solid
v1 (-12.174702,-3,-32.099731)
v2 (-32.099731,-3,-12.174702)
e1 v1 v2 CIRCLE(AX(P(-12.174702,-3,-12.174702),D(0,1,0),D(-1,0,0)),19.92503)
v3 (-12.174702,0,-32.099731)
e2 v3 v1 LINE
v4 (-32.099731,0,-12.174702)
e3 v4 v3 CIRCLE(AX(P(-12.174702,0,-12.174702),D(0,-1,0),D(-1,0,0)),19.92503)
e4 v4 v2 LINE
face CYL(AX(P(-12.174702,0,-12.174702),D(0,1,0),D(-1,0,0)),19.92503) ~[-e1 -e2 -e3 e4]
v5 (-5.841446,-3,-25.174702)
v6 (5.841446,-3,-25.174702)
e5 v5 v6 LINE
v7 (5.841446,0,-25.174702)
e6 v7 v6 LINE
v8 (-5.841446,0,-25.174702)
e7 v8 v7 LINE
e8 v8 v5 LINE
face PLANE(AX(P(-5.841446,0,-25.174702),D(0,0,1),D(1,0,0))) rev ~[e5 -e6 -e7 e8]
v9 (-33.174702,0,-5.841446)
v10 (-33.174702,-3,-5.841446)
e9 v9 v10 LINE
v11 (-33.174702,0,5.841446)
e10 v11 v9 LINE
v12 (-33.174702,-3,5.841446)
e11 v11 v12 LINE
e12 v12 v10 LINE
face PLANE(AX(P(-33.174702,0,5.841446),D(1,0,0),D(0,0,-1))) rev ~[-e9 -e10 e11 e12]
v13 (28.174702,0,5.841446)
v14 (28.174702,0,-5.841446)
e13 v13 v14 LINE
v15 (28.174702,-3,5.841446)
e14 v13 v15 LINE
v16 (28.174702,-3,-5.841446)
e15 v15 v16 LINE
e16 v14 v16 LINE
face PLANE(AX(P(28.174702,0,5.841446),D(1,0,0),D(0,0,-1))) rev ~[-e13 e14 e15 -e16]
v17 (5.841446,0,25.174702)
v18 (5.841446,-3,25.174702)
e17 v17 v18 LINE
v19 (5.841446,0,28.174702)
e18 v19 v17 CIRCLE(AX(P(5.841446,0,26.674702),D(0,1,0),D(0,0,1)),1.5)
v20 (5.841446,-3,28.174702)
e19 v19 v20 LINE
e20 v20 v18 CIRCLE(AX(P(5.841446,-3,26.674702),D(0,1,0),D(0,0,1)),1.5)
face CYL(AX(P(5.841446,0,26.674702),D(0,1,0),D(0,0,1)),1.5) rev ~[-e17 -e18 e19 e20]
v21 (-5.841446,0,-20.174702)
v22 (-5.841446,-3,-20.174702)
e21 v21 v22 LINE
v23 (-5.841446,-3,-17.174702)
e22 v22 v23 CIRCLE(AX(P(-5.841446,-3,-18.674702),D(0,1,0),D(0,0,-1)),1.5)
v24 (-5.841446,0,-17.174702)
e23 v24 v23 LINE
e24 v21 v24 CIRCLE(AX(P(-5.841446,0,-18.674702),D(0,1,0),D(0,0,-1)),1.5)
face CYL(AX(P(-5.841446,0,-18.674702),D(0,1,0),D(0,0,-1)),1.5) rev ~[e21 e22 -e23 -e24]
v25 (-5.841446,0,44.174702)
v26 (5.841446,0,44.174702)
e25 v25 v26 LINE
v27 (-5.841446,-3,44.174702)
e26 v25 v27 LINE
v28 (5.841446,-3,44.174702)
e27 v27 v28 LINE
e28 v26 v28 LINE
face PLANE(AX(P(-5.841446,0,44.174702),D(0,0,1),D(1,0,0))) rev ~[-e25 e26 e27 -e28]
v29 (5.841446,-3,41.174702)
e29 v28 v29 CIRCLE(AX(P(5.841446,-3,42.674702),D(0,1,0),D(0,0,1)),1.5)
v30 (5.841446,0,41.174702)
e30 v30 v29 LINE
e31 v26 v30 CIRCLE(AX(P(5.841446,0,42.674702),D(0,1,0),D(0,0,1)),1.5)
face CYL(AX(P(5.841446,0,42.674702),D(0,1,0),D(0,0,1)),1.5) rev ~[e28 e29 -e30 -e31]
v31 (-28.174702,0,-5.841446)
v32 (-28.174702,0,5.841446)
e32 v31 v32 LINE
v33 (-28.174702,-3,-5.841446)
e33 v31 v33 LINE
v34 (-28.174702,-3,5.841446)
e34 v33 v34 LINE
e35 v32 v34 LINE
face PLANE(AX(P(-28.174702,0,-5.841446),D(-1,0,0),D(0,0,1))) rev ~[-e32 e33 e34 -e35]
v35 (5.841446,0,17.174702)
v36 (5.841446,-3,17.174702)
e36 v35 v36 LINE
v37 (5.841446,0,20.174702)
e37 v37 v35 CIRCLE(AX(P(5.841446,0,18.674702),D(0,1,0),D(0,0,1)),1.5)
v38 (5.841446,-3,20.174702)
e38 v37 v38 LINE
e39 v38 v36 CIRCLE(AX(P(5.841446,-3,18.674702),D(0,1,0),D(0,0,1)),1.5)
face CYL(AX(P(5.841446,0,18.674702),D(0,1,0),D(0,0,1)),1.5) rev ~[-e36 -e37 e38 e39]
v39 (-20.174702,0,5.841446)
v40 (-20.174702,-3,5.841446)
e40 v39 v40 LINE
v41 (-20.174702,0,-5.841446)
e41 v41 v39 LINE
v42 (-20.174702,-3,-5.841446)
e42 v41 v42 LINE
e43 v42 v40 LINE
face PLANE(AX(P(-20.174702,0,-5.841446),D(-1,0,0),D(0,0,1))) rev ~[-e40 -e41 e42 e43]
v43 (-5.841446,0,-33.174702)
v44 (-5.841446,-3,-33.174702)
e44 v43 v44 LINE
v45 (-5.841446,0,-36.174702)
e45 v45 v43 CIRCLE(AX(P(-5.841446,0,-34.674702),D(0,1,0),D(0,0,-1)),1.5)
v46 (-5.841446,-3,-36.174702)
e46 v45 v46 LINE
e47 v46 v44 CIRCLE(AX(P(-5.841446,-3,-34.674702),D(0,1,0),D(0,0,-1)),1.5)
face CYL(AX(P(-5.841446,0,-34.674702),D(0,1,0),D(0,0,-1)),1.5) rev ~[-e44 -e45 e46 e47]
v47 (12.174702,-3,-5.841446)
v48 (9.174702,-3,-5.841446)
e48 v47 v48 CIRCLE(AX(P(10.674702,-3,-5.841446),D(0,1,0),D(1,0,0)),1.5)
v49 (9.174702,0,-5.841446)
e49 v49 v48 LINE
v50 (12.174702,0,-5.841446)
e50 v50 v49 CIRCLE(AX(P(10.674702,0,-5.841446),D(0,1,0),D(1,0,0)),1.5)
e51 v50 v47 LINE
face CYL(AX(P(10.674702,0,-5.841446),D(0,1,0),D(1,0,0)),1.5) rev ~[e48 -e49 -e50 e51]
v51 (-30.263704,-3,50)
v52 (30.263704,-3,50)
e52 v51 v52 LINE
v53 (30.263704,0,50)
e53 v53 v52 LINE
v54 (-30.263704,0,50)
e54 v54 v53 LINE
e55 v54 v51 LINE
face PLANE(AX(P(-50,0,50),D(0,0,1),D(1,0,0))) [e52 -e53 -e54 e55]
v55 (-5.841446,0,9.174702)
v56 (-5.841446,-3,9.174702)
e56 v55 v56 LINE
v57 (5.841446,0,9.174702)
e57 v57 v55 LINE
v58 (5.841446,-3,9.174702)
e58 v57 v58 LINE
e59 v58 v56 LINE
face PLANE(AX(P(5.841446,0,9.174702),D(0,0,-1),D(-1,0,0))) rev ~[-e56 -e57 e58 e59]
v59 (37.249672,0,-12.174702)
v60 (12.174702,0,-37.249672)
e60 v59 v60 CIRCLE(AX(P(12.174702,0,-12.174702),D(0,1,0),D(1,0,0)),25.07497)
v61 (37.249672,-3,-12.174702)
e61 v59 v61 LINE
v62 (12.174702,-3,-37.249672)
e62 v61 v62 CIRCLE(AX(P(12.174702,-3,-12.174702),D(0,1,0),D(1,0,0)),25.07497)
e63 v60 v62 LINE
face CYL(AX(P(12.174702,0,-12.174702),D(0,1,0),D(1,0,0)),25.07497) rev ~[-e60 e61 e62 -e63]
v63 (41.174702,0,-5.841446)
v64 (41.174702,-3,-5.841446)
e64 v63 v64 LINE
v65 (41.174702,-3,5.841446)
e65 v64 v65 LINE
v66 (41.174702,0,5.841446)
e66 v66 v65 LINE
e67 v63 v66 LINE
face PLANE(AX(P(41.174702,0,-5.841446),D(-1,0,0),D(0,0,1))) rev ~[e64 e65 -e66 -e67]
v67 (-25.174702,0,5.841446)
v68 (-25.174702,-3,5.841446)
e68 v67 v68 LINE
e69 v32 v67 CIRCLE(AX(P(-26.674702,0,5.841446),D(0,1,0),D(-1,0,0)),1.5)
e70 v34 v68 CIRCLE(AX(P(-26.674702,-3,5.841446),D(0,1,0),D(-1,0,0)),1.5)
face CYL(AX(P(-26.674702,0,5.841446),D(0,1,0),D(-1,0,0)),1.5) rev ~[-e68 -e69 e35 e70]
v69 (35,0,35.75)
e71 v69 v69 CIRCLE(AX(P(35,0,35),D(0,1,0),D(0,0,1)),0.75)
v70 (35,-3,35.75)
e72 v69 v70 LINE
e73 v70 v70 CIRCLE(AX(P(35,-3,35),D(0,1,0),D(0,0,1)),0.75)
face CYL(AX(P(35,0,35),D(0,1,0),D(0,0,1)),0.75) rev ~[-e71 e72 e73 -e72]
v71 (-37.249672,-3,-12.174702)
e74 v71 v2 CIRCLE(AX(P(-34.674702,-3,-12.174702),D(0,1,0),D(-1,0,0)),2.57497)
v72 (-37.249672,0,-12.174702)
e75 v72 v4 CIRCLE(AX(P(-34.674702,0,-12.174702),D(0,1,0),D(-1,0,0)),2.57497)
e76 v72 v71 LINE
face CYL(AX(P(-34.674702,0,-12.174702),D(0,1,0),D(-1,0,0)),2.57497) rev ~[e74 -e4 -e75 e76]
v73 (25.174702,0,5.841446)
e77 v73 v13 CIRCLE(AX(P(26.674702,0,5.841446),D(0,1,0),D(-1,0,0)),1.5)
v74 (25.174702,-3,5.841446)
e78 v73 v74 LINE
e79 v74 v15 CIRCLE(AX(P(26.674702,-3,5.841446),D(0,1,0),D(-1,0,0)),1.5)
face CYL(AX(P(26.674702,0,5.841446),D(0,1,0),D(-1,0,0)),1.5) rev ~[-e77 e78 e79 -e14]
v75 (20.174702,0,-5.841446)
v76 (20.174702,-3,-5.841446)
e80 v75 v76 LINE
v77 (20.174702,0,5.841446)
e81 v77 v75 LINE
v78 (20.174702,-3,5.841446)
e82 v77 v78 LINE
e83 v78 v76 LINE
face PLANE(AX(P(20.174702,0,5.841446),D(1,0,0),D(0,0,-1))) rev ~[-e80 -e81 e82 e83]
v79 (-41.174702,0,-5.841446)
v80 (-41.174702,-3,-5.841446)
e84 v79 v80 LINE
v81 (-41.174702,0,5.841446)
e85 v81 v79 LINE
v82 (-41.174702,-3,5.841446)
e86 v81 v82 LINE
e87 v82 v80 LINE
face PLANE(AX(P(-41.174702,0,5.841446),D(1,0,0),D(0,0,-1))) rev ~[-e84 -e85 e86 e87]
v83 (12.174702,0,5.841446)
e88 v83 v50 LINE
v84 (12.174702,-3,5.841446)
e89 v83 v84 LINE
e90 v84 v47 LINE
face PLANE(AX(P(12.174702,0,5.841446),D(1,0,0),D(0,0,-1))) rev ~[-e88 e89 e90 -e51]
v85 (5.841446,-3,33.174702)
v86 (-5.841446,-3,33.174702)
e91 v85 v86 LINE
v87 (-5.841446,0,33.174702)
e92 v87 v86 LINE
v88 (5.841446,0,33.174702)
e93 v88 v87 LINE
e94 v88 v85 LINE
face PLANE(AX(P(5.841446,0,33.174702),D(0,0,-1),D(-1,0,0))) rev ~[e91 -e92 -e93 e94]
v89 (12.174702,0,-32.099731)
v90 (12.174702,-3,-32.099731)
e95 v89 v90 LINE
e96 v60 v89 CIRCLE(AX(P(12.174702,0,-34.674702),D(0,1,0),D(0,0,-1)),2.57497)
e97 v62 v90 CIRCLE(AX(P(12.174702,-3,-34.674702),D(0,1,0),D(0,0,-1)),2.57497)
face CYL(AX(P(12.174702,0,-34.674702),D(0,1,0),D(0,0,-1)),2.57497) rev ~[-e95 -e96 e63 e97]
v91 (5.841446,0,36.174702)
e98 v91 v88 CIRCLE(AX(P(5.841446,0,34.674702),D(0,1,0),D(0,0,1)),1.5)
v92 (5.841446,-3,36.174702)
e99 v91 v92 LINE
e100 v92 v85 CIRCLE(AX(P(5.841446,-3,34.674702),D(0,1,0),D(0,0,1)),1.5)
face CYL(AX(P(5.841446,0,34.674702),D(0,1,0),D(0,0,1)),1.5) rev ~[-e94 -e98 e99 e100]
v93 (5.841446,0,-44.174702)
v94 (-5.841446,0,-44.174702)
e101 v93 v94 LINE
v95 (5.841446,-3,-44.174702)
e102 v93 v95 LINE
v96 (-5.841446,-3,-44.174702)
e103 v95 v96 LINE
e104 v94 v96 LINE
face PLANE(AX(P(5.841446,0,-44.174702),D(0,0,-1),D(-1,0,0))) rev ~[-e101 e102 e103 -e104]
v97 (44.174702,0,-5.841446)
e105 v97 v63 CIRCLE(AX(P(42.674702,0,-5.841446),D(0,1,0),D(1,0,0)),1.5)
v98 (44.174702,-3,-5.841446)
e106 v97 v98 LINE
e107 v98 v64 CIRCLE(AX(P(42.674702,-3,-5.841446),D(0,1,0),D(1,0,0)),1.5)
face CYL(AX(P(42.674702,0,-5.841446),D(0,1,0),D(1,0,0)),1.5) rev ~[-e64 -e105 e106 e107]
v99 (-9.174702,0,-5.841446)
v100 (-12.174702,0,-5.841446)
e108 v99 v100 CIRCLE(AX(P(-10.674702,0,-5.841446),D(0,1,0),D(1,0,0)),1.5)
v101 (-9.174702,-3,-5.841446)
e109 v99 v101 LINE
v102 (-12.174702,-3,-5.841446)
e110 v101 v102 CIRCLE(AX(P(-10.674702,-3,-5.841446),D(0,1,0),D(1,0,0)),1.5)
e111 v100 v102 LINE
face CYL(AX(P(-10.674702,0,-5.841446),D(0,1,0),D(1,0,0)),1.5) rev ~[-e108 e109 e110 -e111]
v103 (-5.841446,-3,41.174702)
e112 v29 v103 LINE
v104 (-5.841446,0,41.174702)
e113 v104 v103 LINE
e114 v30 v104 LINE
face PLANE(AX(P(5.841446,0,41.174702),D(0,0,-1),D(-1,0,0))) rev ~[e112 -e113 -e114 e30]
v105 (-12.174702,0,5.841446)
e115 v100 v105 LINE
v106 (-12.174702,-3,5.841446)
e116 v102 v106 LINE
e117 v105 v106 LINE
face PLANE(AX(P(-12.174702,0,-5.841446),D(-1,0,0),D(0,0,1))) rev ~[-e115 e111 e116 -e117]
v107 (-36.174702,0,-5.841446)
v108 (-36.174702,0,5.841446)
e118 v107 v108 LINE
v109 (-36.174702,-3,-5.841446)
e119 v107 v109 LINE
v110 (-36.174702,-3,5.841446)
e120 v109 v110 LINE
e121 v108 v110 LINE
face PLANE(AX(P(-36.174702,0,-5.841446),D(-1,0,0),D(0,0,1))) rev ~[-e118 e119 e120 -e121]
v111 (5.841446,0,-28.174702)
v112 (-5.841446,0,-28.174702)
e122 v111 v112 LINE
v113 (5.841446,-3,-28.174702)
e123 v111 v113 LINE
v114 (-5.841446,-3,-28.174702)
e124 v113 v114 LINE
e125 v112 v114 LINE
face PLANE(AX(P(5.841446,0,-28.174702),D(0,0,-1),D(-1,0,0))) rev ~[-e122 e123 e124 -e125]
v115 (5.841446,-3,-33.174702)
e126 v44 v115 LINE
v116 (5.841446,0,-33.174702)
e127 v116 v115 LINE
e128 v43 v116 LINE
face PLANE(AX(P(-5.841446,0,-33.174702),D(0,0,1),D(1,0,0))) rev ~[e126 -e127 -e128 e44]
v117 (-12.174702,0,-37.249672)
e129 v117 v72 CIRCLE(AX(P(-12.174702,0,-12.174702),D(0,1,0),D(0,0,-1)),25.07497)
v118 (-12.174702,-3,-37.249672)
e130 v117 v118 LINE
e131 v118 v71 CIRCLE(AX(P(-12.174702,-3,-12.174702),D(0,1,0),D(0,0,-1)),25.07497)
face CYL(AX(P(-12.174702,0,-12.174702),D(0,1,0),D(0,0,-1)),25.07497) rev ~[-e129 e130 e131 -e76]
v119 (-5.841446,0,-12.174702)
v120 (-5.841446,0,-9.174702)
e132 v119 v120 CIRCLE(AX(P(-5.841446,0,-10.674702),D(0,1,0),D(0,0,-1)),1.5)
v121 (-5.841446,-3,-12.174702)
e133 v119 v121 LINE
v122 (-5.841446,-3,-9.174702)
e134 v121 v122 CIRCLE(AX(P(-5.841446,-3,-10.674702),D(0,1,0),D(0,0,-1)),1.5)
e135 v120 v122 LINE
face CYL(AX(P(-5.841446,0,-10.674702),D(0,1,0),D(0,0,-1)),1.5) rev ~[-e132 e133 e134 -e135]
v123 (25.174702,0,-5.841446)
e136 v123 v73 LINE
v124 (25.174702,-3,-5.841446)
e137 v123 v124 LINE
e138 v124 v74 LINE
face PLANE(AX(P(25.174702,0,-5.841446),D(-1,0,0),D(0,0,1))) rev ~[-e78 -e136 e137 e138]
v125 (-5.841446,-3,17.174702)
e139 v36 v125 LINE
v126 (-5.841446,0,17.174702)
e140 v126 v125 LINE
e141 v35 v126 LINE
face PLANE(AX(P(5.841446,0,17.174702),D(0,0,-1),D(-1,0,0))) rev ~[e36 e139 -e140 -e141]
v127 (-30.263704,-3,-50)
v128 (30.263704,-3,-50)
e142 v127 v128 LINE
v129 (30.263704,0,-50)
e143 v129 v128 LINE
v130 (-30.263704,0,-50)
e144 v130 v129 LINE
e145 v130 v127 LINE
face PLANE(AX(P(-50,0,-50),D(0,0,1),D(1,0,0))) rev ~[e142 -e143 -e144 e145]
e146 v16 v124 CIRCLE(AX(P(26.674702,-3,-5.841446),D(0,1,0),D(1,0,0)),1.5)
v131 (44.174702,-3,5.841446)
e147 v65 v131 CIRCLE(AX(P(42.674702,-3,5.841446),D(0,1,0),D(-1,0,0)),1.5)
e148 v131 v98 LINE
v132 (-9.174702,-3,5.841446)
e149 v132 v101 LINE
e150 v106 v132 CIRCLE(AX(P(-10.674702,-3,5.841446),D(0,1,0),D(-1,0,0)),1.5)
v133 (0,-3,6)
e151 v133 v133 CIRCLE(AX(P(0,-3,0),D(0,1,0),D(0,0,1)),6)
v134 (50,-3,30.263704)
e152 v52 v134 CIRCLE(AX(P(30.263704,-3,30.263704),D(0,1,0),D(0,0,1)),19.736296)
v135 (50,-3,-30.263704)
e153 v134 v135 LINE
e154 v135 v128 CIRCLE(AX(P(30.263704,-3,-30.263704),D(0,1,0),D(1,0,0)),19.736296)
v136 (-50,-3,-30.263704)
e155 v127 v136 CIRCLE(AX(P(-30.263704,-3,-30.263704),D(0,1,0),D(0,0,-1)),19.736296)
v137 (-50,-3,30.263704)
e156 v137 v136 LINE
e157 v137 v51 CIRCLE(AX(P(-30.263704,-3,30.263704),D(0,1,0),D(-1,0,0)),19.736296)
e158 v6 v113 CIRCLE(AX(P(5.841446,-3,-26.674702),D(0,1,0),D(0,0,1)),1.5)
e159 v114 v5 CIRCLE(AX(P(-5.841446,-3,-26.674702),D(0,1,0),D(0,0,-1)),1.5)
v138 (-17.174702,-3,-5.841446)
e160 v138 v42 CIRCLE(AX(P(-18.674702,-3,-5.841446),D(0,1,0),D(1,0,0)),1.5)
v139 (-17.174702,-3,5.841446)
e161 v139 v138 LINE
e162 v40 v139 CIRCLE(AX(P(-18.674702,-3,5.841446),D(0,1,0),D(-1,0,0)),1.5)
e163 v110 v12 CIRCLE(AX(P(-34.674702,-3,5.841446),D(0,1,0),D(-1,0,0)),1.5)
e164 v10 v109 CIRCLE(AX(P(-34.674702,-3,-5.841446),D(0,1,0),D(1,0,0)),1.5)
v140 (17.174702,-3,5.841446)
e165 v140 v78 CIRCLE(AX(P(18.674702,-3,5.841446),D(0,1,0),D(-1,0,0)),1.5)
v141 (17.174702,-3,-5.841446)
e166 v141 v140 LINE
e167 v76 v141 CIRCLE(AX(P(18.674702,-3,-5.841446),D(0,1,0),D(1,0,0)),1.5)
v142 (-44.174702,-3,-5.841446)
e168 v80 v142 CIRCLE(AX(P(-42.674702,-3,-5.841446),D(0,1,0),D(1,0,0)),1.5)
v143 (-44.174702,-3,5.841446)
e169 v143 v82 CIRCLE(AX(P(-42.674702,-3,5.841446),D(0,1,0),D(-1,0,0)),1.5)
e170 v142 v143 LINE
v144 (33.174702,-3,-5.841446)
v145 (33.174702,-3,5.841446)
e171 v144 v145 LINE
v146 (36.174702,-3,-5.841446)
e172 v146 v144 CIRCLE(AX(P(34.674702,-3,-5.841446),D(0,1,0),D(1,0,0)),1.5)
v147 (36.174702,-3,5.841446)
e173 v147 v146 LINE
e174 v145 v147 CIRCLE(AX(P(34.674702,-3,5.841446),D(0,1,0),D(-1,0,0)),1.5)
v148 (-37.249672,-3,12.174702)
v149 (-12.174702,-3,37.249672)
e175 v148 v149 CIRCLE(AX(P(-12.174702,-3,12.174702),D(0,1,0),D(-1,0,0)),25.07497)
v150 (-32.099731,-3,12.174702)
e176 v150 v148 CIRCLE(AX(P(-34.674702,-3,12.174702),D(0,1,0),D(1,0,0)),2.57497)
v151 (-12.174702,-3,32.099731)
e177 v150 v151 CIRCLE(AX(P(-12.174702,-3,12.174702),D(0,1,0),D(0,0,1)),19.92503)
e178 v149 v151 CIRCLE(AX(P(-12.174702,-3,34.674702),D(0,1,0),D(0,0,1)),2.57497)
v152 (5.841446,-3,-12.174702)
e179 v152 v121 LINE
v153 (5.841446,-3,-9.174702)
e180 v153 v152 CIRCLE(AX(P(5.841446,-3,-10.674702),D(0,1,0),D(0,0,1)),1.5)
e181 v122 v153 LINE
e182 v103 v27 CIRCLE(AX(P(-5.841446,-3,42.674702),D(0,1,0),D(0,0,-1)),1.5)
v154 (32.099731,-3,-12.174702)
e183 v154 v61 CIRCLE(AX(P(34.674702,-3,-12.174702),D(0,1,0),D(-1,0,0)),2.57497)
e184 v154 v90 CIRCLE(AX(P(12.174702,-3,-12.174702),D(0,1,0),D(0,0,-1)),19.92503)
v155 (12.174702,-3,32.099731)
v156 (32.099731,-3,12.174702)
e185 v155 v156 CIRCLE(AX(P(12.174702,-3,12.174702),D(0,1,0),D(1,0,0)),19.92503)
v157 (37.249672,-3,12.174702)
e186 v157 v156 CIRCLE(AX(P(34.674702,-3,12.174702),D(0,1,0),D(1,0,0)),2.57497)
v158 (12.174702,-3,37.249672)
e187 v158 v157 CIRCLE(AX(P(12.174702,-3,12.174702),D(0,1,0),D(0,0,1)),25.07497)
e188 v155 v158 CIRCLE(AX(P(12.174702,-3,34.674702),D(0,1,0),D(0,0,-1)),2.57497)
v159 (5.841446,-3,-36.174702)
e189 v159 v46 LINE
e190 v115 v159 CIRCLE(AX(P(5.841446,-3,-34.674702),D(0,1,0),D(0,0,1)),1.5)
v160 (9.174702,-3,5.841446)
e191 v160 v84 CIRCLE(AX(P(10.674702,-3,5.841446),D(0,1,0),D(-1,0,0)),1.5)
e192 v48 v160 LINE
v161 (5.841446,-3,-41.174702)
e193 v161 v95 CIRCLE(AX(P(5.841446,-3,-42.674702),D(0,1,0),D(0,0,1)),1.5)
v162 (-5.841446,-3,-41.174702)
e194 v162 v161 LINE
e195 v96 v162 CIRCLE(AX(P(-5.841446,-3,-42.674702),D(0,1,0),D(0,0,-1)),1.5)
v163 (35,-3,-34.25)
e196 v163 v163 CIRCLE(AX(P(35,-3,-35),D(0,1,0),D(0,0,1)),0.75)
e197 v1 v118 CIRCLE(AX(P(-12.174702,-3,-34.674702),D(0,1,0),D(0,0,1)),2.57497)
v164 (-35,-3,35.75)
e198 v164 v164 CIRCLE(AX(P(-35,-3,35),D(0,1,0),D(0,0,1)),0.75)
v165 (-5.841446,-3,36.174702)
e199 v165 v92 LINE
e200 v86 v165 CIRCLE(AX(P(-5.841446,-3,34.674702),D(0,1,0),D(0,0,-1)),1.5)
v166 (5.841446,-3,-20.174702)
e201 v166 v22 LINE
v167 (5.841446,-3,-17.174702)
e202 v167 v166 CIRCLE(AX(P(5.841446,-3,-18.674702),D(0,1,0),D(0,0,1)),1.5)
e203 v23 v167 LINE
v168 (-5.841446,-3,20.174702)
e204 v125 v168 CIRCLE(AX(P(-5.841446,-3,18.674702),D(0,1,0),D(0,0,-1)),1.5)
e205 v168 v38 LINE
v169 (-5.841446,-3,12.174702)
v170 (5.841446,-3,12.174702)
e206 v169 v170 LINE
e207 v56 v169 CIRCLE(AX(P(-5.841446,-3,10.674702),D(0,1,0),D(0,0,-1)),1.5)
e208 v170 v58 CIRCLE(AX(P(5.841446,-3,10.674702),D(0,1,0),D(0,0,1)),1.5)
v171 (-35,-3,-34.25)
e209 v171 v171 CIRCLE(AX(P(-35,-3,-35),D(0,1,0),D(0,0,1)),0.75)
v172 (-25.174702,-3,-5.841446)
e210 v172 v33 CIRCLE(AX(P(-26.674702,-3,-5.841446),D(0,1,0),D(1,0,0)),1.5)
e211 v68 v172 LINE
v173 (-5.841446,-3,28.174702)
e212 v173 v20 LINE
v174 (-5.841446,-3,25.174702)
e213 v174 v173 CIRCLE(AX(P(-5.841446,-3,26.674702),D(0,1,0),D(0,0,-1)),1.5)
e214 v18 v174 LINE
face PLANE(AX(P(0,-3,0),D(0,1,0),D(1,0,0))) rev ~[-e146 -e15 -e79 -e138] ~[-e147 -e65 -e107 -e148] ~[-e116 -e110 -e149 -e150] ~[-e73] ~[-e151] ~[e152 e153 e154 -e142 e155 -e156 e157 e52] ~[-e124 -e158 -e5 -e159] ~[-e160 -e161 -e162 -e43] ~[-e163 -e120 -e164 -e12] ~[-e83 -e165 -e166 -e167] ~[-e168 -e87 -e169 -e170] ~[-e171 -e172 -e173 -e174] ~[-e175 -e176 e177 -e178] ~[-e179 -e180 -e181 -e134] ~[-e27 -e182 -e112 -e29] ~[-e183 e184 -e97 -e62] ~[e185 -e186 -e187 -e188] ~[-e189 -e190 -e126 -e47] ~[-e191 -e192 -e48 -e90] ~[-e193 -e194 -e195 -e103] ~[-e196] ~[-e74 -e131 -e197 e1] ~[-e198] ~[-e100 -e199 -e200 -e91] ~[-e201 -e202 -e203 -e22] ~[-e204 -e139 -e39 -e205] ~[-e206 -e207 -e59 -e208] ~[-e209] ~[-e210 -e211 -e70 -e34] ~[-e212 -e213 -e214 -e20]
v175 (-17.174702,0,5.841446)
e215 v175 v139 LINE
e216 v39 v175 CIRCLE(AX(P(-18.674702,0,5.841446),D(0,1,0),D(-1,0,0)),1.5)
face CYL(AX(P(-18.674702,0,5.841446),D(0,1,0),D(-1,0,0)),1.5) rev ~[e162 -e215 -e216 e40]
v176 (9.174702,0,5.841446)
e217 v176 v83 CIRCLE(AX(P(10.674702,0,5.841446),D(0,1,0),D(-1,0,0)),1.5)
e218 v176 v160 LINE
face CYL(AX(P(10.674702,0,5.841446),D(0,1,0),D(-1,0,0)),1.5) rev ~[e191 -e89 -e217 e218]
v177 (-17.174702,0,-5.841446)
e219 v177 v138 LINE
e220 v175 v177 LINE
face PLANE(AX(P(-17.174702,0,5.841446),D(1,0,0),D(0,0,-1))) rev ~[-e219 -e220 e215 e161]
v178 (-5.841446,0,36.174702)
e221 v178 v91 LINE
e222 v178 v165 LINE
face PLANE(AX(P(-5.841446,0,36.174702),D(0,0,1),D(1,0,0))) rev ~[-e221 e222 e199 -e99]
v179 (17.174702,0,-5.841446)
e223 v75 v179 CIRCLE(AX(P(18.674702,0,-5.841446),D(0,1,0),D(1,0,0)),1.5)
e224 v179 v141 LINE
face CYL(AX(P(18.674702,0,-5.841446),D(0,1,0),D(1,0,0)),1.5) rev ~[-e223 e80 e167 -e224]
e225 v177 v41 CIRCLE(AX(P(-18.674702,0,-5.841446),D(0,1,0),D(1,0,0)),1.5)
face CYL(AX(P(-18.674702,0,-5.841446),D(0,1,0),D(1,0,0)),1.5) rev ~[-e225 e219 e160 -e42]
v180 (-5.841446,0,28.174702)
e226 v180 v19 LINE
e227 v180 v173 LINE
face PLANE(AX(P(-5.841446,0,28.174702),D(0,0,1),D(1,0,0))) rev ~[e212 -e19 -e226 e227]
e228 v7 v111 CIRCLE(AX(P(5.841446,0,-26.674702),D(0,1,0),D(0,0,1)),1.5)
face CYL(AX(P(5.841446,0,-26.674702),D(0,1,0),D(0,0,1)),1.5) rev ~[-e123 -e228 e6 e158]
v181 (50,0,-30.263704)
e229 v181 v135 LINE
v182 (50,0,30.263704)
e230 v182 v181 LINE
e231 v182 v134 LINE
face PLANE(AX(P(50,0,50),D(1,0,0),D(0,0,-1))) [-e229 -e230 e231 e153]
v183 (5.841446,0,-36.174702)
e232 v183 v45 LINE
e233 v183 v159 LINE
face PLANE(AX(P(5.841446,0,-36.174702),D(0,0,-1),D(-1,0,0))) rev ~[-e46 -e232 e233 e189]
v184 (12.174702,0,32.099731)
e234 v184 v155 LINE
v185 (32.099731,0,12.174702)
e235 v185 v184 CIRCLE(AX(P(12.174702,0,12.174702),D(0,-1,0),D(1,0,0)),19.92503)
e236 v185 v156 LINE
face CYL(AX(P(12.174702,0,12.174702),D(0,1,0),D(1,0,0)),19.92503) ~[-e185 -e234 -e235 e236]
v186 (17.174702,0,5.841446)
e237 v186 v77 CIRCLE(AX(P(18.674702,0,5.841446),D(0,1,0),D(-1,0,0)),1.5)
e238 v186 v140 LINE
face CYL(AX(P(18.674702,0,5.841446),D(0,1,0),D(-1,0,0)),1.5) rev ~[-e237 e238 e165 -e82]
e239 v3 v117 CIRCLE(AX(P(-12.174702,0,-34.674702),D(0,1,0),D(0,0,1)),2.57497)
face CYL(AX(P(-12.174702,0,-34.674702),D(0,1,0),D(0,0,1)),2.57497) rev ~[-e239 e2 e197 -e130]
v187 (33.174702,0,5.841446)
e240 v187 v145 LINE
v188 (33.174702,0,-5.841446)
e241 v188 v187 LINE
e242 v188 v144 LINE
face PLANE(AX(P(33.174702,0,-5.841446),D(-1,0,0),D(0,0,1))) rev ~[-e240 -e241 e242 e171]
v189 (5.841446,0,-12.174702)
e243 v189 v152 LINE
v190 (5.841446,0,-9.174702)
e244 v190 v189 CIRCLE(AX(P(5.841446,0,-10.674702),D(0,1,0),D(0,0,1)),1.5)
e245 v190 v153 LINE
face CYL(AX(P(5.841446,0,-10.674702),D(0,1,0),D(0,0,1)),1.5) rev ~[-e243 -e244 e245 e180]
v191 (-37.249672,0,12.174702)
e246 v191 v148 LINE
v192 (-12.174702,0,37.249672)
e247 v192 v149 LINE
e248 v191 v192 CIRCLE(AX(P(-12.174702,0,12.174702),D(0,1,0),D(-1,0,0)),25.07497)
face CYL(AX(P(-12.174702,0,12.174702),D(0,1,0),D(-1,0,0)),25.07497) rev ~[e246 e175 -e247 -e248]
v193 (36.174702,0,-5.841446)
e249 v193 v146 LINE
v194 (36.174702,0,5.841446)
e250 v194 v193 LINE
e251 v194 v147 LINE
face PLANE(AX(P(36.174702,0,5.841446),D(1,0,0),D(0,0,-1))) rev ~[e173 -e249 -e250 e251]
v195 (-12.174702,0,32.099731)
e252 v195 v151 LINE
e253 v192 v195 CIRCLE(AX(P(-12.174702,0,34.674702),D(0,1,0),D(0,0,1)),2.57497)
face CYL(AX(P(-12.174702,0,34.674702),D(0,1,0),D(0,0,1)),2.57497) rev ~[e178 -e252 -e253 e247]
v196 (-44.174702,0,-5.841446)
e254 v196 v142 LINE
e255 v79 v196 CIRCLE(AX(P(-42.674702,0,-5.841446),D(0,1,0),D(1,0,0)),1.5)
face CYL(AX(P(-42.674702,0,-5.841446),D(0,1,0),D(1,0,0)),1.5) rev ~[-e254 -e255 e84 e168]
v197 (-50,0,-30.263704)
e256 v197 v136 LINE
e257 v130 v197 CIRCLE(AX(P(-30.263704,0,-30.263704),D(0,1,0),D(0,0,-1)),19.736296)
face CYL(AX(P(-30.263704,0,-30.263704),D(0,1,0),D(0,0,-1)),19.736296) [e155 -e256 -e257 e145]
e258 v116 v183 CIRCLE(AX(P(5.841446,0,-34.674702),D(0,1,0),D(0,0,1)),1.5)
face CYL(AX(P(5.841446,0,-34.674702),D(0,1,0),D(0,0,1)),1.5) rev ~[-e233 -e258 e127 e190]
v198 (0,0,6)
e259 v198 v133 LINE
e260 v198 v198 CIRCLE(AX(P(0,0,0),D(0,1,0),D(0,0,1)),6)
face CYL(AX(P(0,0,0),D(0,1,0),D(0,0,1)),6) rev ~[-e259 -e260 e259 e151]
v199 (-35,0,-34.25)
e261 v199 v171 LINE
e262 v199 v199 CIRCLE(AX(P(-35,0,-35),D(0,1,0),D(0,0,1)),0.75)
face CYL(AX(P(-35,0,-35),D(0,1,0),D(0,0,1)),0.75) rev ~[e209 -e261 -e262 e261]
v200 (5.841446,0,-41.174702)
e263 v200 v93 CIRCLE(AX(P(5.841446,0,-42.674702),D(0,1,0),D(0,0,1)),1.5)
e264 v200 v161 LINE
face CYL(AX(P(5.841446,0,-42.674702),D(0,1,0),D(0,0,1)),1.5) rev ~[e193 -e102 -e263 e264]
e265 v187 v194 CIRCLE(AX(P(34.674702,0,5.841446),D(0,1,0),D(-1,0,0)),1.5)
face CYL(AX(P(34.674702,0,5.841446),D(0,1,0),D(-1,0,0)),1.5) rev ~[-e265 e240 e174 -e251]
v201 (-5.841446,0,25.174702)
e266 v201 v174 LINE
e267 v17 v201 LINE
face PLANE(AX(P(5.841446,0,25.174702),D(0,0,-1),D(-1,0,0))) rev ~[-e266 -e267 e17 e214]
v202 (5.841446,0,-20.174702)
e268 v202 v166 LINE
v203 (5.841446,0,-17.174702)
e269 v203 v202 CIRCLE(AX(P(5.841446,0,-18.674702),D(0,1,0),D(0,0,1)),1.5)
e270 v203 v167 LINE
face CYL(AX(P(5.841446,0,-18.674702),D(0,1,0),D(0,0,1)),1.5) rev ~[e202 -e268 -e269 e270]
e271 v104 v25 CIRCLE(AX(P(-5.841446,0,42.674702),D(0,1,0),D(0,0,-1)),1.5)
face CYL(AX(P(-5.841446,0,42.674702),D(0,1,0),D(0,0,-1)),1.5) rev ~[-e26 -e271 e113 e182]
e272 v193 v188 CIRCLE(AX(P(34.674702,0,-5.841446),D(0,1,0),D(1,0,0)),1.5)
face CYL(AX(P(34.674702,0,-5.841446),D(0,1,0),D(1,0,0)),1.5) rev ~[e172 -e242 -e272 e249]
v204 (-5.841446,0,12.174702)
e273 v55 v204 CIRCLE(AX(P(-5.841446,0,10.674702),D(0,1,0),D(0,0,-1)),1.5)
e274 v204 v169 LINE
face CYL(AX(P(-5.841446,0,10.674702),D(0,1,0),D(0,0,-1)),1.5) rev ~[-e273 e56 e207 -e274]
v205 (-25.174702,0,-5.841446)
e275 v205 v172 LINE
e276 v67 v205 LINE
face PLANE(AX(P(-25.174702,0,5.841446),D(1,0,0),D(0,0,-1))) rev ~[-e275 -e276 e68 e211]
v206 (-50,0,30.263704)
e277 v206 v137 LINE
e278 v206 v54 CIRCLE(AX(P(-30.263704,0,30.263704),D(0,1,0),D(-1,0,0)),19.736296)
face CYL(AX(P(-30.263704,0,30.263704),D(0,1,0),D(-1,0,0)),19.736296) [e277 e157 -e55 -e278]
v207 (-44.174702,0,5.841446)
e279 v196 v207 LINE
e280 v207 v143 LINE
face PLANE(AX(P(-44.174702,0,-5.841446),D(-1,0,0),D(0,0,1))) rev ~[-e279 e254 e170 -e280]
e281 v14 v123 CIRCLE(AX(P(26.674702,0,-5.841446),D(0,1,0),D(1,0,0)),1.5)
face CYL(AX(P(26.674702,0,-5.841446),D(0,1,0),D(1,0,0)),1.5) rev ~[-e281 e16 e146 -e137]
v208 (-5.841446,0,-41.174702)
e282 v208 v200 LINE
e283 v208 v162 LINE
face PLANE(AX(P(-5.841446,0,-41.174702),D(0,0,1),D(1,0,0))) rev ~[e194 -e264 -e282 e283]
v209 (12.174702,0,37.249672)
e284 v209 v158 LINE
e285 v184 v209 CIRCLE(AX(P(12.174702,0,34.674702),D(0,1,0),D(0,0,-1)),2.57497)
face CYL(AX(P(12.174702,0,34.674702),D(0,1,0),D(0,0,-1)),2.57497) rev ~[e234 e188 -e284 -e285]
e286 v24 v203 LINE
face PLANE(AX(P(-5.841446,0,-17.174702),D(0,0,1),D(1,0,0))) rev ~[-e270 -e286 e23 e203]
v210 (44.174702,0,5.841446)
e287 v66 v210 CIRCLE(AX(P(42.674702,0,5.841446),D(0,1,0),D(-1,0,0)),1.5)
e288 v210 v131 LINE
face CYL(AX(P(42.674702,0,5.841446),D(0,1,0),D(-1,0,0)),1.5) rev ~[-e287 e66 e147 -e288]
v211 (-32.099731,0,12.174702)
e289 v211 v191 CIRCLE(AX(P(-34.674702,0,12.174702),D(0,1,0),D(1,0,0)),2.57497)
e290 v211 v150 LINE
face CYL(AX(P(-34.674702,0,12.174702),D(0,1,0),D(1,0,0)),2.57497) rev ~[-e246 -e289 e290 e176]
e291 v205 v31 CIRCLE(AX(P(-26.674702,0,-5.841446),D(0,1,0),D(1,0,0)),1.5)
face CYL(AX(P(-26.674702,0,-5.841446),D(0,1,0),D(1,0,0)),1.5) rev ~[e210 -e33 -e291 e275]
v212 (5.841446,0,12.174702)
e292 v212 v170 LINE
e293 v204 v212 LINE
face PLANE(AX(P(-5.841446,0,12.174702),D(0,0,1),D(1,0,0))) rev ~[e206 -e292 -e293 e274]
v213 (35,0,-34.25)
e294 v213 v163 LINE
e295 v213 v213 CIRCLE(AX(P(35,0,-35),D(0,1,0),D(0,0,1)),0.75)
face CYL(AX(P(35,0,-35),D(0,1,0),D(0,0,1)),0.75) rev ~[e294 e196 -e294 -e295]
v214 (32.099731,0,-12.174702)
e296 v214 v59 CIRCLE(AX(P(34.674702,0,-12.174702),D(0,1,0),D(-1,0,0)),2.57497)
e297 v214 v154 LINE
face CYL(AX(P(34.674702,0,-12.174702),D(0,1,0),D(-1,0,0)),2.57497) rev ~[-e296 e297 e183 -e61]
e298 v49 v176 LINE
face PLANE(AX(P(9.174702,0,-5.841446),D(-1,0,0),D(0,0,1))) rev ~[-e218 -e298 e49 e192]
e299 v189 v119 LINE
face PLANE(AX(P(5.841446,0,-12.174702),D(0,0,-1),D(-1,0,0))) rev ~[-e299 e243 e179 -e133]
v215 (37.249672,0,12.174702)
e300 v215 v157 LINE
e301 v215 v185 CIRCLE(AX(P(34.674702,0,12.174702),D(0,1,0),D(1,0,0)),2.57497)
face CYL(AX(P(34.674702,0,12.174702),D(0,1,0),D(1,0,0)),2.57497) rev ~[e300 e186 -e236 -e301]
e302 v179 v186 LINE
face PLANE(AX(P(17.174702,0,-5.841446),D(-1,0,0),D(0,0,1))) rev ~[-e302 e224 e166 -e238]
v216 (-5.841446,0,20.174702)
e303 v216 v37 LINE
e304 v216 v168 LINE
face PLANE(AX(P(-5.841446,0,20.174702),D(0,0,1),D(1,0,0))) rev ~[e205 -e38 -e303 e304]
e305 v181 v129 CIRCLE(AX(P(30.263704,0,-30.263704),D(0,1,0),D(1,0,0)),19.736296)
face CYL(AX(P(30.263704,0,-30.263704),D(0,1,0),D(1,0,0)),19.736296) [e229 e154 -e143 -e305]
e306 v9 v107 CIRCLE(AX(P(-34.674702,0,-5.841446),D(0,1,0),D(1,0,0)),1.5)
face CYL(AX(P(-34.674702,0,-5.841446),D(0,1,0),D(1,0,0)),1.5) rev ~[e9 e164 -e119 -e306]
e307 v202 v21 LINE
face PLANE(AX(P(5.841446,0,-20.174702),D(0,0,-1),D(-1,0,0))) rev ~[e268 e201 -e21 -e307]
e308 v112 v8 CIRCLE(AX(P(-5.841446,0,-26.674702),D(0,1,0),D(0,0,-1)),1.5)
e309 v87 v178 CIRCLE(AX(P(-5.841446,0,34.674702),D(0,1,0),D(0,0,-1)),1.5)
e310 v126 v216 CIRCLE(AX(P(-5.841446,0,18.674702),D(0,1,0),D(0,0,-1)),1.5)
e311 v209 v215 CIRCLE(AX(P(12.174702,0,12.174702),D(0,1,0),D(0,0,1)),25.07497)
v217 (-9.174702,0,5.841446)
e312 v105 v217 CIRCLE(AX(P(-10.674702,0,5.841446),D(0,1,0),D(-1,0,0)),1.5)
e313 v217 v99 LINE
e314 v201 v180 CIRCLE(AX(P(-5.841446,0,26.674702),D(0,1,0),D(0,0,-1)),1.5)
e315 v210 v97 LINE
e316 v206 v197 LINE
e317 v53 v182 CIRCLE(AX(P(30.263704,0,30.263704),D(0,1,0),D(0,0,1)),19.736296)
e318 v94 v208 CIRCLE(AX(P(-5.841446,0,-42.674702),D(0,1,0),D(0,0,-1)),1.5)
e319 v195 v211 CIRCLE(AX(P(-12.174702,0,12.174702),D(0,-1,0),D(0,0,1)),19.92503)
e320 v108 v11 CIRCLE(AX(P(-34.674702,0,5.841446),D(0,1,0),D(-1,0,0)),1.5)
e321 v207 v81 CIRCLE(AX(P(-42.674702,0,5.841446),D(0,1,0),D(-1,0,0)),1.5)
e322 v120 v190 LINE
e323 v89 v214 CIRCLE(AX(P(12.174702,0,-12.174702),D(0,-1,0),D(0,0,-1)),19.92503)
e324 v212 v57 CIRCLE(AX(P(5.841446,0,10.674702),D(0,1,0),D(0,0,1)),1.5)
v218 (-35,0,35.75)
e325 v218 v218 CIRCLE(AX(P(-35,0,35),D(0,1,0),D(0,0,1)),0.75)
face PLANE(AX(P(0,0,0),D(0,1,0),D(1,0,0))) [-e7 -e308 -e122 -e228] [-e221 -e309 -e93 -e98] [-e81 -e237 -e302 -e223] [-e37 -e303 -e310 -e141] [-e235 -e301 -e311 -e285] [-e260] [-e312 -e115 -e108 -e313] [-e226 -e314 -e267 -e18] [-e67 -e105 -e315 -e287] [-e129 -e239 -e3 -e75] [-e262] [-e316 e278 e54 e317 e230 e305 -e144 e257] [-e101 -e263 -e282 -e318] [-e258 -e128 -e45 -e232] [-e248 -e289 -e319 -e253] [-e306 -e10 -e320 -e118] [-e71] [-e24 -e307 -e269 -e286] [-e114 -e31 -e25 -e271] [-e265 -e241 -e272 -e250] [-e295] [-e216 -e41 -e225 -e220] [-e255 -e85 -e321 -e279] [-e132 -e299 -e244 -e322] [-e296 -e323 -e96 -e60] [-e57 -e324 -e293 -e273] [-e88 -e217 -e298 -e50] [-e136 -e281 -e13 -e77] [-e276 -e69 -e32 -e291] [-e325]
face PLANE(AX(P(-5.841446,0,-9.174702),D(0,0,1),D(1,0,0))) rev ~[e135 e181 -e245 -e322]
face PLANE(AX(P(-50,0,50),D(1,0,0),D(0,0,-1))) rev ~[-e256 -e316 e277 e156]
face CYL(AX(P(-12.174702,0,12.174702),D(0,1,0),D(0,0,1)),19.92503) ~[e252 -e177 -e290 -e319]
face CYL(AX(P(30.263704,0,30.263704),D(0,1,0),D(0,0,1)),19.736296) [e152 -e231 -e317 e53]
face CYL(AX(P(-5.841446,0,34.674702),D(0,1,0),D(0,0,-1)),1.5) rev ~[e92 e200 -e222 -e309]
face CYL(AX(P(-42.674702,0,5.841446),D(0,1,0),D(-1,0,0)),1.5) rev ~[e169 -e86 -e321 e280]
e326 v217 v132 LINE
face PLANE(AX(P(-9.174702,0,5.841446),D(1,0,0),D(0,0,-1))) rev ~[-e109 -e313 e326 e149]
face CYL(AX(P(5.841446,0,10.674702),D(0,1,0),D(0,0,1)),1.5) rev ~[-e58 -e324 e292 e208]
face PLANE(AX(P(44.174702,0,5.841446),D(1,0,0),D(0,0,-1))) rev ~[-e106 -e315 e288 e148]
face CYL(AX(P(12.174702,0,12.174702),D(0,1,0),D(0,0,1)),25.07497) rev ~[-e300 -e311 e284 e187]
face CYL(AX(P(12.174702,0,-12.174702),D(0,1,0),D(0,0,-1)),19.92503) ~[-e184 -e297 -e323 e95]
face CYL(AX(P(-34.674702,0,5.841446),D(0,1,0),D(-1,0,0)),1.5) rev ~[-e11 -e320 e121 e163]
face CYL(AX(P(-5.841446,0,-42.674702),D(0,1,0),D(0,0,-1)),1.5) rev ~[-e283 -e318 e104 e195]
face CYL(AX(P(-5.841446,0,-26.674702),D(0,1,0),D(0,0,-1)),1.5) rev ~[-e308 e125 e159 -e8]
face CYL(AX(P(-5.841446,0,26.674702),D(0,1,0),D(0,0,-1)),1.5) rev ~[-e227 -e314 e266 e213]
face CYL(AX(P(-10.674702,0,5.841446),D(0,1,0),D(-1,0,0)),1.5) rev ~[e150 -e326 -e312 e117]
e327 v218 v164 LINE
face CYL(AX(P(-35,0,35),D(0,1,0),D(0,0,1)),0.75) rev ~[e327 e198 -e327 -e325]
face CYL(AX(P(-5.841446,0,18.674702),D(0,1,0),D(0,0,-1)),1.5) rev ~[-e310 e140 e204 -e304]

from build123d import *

# Parameters (mm, degrees)
IZIM1_W                     = 100
IZIM1_H                     = 100
IZIM1_R                     = 0.75
Y_KSEKLIK_EKSTR_ZYON1_DEPTH = 3
IZIM2_R                     = 6
KES_EKSTR_ZYON1_DEPTH       = 4
KES_EKSTR_ZYON2_DEPTH       = 4
KES_EKSTR_ZYON3_DEPTH       = 4


with BuildPart() as part:
    # Çizim1 → Yükseklik-Ekstrüzyon1 (new body)
    with BuildSketch(Plane(origin=(0, 0, 0), x_dir=(1, 0, 0), z_dir=(0, 1, 0))):
        Rectangle(IZIM1_W, IZIM1_H)
        with Locations(Location((-35, 35, 0), (0, 0, 270))):
            Circle(IZIM1_R, mode=Mode.SUBTRACT)
        with Locations(Location((35, 35, 0), (0, 0, 270))):
            Circle(IZIM1_R, mode=Mode.SUBTRACT)
        with Locations(Location((35, -35, 0), (0, 0, 270))):
            Circle(IZIM1_R, mode=Mode.SUBTRACT)
        with Locations(Location((-35, -35, 0), (0, 0, 270))):
            Circle(IZIM1_R, mode=Mode.SUBTRACT)
    extrude(amount=-Y_KSEKLIK_EKSTR_ZYON1_DEPTH)

    # Çizim2 → Kes-Ekstrüzyon1 (cut)
    with BuildSketch(Plane(origin=(0, 0, 0), x_dir=(1, 0, 0), z_dir=(0, 1, 0))):
        with Locations(Location((0, 0, 0), (0, 0, 270))):
            Circle(IZIM2_R)
    extrude(amount=-KES_EKSTR_ZYON1_DEPTH, mode=Mode.SUBTRACT)

    # Çizim3 → Kes-Ekstrüzyon2 (cut)
    with BuildSketch(Plane(origin=(0, 0, 0), x_dir=(1, 0, 0), z_dir=(0, 1, 0))):
        with BuildLine():
            Line((-50, 30.263704164), (-50, 50))
            Line((-50, 50), (-30.263704164, 50))
            ThreePointArc((-30.263704164, 50), (-44.219372785, 44.219372785), (-50, 30.263704164))
        make_face()
        with BuildLine():
            Line((50, 50), (50, 30.263704164))
            ThreePointArc((50, 30.263704164), (44.219372785, 44.219372785), (30.263704164, 50))
            Line((30.263704164, 50), (50, 50))
        make_face()
        with BuildLine():
            Line((50, -50), (30.263704164, -50))
            ThreePointArc((30.263704164, -50), (44.219372785, -44.219372785), (50, -30.263704164))
            Line((50, -30.263704164), (50, -50))
        make_face()
        with BuildLine():
            Line((-50, -50), (-50, -30.263704164))
            ThreePointArc((-50, -30.263704164), (-44.219372785, -44.219372785), (-30.263704164, -50))
            Line((-30.263704164, -50), (-50, -50))
        make_face()
    extrude(amount=-KES_EKSTR_ZYON2_DEPTH, mode=Mode.SUBTRACT)

    # Çizim4 → Kes-Ekstrüzyon3 (cut)
    with BuildSketch(Plane(origin=(0, 0, 0), x_dir=(1, 0, 0), z_dir=(0, 1, 0))):
        with BuildLine():
            Line((-9.174701876, -5.841446321), (-9.174701876, 5.841446321))
            ThreePointArc((-9.174701876, 5.841446321), (-10.674701876, 7.341446321), (-12.174701876, 5.841446321))
            Line((-12.174701876, 5.841446321), (-12.174701876, -5.841446321))
            ThreePointArc((-12.174701876, -5.841446321), (-10.674701876, -7.341446321), (-9.174701876, -5.841446321))
        make_face()
        with BuildLine():
            Line((-17.174701876, -5.841446321), (-17.174701876, 5.841446321))
            ThreePointArc((-17.174701876, 5.841446321), (-18.674701876, 7.341446321), (-20.174701876, 5.841446321))
            Line((-20.174701876, 5.841446321), (-20.174701876, -5.841446321))
            ThreePointArc((-20.174701876, -5.841446321), (-18.674701876, -7.341446321), (-17.174701876, -5.841446321))
        make_face()
        with BuildLine():
            Line((-25.174701876, -5.841446321), (-25.174701876, 5.841446321))
            ThreePointArc((-25.174701876, 5.841446321), (-26.674701876, 7.341446321), (-28.174701876, 5.841446321))
            Line((-28.174701876, 5.841446321), (-28.174701876, -5.841446321))
            ThreePointArc((-28.174701876, -5.841446321), (-26.674701876, -7.341446321), (-25.174701876, -5.841446321))
        make_face()
        with BuildLine():
            Line((-33.174701876, -5.841446321), (-33.174701876, 5.841446321))
            ThreePointArc((-33.174701876, 5.841446321), (-34.674701876, 7.341446321), (-36.174701876, 5.841446321))
            Line((-36.174701876, 5.841446321), (-36.174701876, -5.841446321))
            ThreePointArc((-36.174701876, -5.841446321), (-34.674701876, -7.341446321), (-33.174701876, -5.841446321))
        make_face()
        with BuildLine():
            Line((-41.174701876, -5.841446321), (-41.174701876, 5.841446321))
            ThreePointArc((-41.174701876, 5.841446321), (-42.674701876, 7.341446321), (-44.174701876, 5.841446321))
            Line((-44.174701876, 5.841446321), (-44.174701876, -5.841446321))
            ThreePointArc((-44.174701876, -5.841446321), (-42.674701876, -7.341446321), (-41.174701876, -5.841446321))
        make_face()
        with BuildLine():
            Line((-5.841446321, 9.174701876), (5.841446321, 9.174701876))
            ThreePointArc((5.841446321, 9.174701876), (7.341446321, 10.674701876), (5.841446321, 12.174701876))
            Line((5.841446321, 12.174701876), (-5.841446321, 12.174701876))
            ThreePointArc((-5.841446321, 12.174701876), (-7.341446321, 10.674701876), (-5.841446321, 9.174701876))
        make_face()
        with BuildLine():
            Line((-5.841446321, 17.174701876), (5.841446321, 17.174701876))
            ThreePointArc((5.841446321, 17.174701876), (7.341446321, 18.674701876), (5.841446321, 20.174701876))
            Line((5.841446321, 20.174701876), (-5.841446321, 20.174701876))
            ThreePointArc((-5.841446321, 20.174701876), (-7.341446321, 18.674701876), (-5.841446321, 17.174701876))
        make_face()
        with BuildLine():
            Line((-5.841446321, 25.174701876), (5.841446321, 25.174701876))
            ThreePointArc((5.841446321, 25.174701876), (7.341446321, 26.674701876), (5.841446321, 28.174701876))
            Line((5.841446321, 28.174701876), (-5.841446321, 28.174701876))
            ThreePointArc((-5.841446321, 28.174701876), (-7.341446321, 26.674701876), (-5.841446321, 25.174701876))
        make_face()
        with BuildLine():
            Line((-5.841446321, 33.174701876), (5.841446321, 33.174701876))
            ThreePointArc((5.841446321, 33.174701876), (7.341446321, 34.674701876), (5.841446321, 36.174701876))
            Line((5.841446321, 36.174701876), (-5.841446321, 36.174701876))
            ThreePointArc((-5.841446321, 36.174701876), (-7.341446321, 34.674701876), (-5.841446321, 33.174701876))
        make_face()
        with BuildLine():
            Line((-5.841446321, 41.174701876), (5.841446321, 41.174701876))
            ThreePointArc((5.841446321, 41.174701876), (7.341446321, 42.674701876), (5.841446321, 44.174701876))
            Line((5.841446321, 44.174701876), (-5.841446321, 44.174701876))
            ThreePointArc((-5.841446321, 44.174701876), (-7.341446321, 42.674701876), (-5.841446321, 41.174701876))
        make_face()
        with BuildLine():
            Line((9.174701876, 5.841446321), (9.174701876, -5.841446321))
            ThreePointArc((9.174701876, -5.841446321), (10.674701876, -7.341446321), (12.174701876, -5.841446321))
            Line((12.174701876, -5.841446321), (12.174701876, 5.841446321))
            ThreePointArc((12.174701876, 5.841446321), (10.674701876, 7.341446321), (9.174701876, 5.841446321))
        make_face()
        with BuildLine():
            Line((17.174701876, 5.841446321), (17.174701876, -5.841446321))
            ThreePointArc((17.174701876, -5.841446321), (18.674701876, -7.341446321), (20.174701876, -5.841446321))
            Line((20.174701876, -5.841446321), (20.174701876, 5.841446321))
            ThreePointArc((20.174701876, 5.841446321), (18.674701876, 7.341446321), (17.174701876, 5.841446321))
        make_face()
        with BuildLine():
            Line((25.174701876, 5.841446321), (25.174701876, -5.841446321))
            ThreePointArc((25.174701876, -5.841446321), (26.674701876, -7.341446321), (28.174701876, -5.841446321))
            Line((28.174701876, -5.841446321), (28.174701876, 5.841446321))
            ThreePointArc((28.174701876, 5.841446321), (26.674701876, 7.341446321), (25.174701876, 5.841446321))
        make_face()
        with BuildLine():
            Line((33.174701876, 5.841446321), (33.174701876, -5.841446321))
            ThreePointArc((33.174701876, -5.841446321), (34.674701876, -7.341446321), (36.174701876, -5.841446321))
            Line((36.174701876, -5.841446321), (36.174701876, 5.841446321))
            ThreePointArc((36.174701876, 5.841446321), (34.674701876, 7.341446321), (33.174701876, 5.841446321))
        make_face()
        with BuildLine():
            Line((41.174701876, 5.841446321), (41.174701876, -5.841446321))
            ThreePointArc((41.174701876, -5.841446321), (42.674701876, -7.341446321), (44.174701876, -5.841446321))
            Line((44.174701876, -5.841446321), (44.174701876, 5.841446321))
            ThreePointArc((44.174701876, 5.841446321), (42.674701876, 7.341446321), (41.174701876, 5.841446321))
        make_face()
        with BuildLine():
            Line((5.841446321, -9.174701876), (-5.841446321, -9.174701876))
            ThreePointArc((-5.841446321, -9.174701876), (-7.341446321, -10.674701876), (-5.841446321, -12.174701876))
            Line((-5.841446321, -12.174701876), (5.841446321, -12.174701876))
            ThreePointArc((5.841446321, -12.174701876), (7.341446321, -10.674701876), (5.841446321, -9.174701876))
        make_face()
        with BuildLine():
            Line((5.841446321, -17.174701876), (-5.841446321, -17.174701876))
            ThreePointArc((-5.841446321, -17.174701876), (-7.341446321, -18.674701876), (-5.841446321, -20.174701876))
            Line((-5.841446321, -20.174701876), (5.841446321, -20.174701876))
            ThreePointArc((5.841446321, -20.174701876), (7.341446321, -18.674701876), (5.841446321, -17.174701876))
        make_face()
        with BuildLine():
            Line((5.841446321, -25.174701876), (-5.841446321, -25.174701876))
            ThreePointArc((-5.841446321, -25.174701876), (-7.341446321, -26.674701876), (-5.841446321, -28.174701876))
            Line((-5.841446321, -28.174701876), (5.841446321, -28.174701876))
            ThreePointArc((5.841446321, -28.174701876), (7.341446321, -26.674701876), (5.841446321, -25.174701876))
        make_face()
        with BuildLine():
            Line((5.841446321, -33.174701876), (-5.841446321, -33.174701876))
            ThreePointArc((-5.841446321, -33.174701876), (-7.341446321, -34.674701876), (-5.841446321, -36.174701876))
            Line((-5.841446321, -36.174701876), (5.841446321, -36.174701876))
            ThreePointArc((5.841446321, -36.174701876), (7.341446321, -34.674701876), (5.841446321, -33.174701876))
        make_face()
        with BuildLine():
            Line((5.841446321, -41.174701876), (-5.841446321, -41.174701876))
            ThreePointArc((-5.841446321, -41.174701876), (-7.341446321, -42.674701876), (-5.841446321, -44.174701876))
            Line((-5.841446321, -44.174701876), (5.841446321, -44.174701876))
            ThreePointArc((5.841446321, -44.174701876), (7.341446321, -42.674701876), (5.841446321, -41.174701876))
        make_face()
        with BuildLine():
            ThreePointArc((-12.174701876, 32.099731448), (-9.599731448, 34.674701876), (-12.174701876, 37.249672305))
            ThreePointArc((-12.174701876, 37.249672305), (-29.905383504, 29.905383504), (-37.249672305, 12.174701876))
            ThreePointArc((-37.249672305, 12.174701876), (-34.674701876, 9.599731448), (-32.099731448, 12.174701876))
            ThreePointArc((-32.099731448, 12.174701876), (-26.263825402, 26.263825402), (-12.174701876, 32.099731448))
        make_face()
        with BuildLine():
            ThreePointArc((32.099731448, 12.174701876), (34.674701876, 9.599731448), (37.249672305, 12.174701876))
            ThreePointArc((37.249672305, 12.174701876), (29.905383504, 29.905383504), (12.174701876, 37.249672305))
            ThreePointArc((12.174701876, 37.249672305), (9.599731448, 34.674701876), (12.174701876, 32.099731448))
            ThreePointArc((12.174701876, 32.099731448), (26.263825402, 26.263825402), (32.099731448, 12.174701876))
        make_face()
        with BuildLine():
            ThreePointArc((12.174701876, -32.099731448), (9.599731448, -34.674701876), (12.174701876, -37.249672305))
            ThreePointArc((12.174701876, -37.249672305), (29.905383504, -29.905383504), (37.249672305, -12.174701876))
            ThreePointArc((37.249672305, -12.174701876), (34.674701876, -9.599731448), (32.099731448, -12.174701876))
            ThreePointArc((32.099731448, -12.174701876), (26.263825402, -26.263825402), (12.174701876, -32.099731448))
        make_face()
        with BuildLine():
            ThreePointArc((-32.099731448, -12.174701876), (-34.674701876, -9.599731448), (-37.249672305, -12.174701876))
            ThreePointArc((-37.249672305, -12.174701876), (-29.905383504, -29.905383504), (-12.174701876, -37.249672305))
            ThreePointArc((-12.174701876, -37.249672305), (-9.599731448, -34.674701876), (-12.174701876, -32.099731448))
            ThreePointArc((-12.174701876, -32.099731448), (-26.263825402, -26.263825402), (-32.099731448, -12.174701876))
        make_face()
    extrude(amount=-KES_EKSTR_ZYON3_DEPTH, mode=Mode.SUBTRACT)


solid = part.part
